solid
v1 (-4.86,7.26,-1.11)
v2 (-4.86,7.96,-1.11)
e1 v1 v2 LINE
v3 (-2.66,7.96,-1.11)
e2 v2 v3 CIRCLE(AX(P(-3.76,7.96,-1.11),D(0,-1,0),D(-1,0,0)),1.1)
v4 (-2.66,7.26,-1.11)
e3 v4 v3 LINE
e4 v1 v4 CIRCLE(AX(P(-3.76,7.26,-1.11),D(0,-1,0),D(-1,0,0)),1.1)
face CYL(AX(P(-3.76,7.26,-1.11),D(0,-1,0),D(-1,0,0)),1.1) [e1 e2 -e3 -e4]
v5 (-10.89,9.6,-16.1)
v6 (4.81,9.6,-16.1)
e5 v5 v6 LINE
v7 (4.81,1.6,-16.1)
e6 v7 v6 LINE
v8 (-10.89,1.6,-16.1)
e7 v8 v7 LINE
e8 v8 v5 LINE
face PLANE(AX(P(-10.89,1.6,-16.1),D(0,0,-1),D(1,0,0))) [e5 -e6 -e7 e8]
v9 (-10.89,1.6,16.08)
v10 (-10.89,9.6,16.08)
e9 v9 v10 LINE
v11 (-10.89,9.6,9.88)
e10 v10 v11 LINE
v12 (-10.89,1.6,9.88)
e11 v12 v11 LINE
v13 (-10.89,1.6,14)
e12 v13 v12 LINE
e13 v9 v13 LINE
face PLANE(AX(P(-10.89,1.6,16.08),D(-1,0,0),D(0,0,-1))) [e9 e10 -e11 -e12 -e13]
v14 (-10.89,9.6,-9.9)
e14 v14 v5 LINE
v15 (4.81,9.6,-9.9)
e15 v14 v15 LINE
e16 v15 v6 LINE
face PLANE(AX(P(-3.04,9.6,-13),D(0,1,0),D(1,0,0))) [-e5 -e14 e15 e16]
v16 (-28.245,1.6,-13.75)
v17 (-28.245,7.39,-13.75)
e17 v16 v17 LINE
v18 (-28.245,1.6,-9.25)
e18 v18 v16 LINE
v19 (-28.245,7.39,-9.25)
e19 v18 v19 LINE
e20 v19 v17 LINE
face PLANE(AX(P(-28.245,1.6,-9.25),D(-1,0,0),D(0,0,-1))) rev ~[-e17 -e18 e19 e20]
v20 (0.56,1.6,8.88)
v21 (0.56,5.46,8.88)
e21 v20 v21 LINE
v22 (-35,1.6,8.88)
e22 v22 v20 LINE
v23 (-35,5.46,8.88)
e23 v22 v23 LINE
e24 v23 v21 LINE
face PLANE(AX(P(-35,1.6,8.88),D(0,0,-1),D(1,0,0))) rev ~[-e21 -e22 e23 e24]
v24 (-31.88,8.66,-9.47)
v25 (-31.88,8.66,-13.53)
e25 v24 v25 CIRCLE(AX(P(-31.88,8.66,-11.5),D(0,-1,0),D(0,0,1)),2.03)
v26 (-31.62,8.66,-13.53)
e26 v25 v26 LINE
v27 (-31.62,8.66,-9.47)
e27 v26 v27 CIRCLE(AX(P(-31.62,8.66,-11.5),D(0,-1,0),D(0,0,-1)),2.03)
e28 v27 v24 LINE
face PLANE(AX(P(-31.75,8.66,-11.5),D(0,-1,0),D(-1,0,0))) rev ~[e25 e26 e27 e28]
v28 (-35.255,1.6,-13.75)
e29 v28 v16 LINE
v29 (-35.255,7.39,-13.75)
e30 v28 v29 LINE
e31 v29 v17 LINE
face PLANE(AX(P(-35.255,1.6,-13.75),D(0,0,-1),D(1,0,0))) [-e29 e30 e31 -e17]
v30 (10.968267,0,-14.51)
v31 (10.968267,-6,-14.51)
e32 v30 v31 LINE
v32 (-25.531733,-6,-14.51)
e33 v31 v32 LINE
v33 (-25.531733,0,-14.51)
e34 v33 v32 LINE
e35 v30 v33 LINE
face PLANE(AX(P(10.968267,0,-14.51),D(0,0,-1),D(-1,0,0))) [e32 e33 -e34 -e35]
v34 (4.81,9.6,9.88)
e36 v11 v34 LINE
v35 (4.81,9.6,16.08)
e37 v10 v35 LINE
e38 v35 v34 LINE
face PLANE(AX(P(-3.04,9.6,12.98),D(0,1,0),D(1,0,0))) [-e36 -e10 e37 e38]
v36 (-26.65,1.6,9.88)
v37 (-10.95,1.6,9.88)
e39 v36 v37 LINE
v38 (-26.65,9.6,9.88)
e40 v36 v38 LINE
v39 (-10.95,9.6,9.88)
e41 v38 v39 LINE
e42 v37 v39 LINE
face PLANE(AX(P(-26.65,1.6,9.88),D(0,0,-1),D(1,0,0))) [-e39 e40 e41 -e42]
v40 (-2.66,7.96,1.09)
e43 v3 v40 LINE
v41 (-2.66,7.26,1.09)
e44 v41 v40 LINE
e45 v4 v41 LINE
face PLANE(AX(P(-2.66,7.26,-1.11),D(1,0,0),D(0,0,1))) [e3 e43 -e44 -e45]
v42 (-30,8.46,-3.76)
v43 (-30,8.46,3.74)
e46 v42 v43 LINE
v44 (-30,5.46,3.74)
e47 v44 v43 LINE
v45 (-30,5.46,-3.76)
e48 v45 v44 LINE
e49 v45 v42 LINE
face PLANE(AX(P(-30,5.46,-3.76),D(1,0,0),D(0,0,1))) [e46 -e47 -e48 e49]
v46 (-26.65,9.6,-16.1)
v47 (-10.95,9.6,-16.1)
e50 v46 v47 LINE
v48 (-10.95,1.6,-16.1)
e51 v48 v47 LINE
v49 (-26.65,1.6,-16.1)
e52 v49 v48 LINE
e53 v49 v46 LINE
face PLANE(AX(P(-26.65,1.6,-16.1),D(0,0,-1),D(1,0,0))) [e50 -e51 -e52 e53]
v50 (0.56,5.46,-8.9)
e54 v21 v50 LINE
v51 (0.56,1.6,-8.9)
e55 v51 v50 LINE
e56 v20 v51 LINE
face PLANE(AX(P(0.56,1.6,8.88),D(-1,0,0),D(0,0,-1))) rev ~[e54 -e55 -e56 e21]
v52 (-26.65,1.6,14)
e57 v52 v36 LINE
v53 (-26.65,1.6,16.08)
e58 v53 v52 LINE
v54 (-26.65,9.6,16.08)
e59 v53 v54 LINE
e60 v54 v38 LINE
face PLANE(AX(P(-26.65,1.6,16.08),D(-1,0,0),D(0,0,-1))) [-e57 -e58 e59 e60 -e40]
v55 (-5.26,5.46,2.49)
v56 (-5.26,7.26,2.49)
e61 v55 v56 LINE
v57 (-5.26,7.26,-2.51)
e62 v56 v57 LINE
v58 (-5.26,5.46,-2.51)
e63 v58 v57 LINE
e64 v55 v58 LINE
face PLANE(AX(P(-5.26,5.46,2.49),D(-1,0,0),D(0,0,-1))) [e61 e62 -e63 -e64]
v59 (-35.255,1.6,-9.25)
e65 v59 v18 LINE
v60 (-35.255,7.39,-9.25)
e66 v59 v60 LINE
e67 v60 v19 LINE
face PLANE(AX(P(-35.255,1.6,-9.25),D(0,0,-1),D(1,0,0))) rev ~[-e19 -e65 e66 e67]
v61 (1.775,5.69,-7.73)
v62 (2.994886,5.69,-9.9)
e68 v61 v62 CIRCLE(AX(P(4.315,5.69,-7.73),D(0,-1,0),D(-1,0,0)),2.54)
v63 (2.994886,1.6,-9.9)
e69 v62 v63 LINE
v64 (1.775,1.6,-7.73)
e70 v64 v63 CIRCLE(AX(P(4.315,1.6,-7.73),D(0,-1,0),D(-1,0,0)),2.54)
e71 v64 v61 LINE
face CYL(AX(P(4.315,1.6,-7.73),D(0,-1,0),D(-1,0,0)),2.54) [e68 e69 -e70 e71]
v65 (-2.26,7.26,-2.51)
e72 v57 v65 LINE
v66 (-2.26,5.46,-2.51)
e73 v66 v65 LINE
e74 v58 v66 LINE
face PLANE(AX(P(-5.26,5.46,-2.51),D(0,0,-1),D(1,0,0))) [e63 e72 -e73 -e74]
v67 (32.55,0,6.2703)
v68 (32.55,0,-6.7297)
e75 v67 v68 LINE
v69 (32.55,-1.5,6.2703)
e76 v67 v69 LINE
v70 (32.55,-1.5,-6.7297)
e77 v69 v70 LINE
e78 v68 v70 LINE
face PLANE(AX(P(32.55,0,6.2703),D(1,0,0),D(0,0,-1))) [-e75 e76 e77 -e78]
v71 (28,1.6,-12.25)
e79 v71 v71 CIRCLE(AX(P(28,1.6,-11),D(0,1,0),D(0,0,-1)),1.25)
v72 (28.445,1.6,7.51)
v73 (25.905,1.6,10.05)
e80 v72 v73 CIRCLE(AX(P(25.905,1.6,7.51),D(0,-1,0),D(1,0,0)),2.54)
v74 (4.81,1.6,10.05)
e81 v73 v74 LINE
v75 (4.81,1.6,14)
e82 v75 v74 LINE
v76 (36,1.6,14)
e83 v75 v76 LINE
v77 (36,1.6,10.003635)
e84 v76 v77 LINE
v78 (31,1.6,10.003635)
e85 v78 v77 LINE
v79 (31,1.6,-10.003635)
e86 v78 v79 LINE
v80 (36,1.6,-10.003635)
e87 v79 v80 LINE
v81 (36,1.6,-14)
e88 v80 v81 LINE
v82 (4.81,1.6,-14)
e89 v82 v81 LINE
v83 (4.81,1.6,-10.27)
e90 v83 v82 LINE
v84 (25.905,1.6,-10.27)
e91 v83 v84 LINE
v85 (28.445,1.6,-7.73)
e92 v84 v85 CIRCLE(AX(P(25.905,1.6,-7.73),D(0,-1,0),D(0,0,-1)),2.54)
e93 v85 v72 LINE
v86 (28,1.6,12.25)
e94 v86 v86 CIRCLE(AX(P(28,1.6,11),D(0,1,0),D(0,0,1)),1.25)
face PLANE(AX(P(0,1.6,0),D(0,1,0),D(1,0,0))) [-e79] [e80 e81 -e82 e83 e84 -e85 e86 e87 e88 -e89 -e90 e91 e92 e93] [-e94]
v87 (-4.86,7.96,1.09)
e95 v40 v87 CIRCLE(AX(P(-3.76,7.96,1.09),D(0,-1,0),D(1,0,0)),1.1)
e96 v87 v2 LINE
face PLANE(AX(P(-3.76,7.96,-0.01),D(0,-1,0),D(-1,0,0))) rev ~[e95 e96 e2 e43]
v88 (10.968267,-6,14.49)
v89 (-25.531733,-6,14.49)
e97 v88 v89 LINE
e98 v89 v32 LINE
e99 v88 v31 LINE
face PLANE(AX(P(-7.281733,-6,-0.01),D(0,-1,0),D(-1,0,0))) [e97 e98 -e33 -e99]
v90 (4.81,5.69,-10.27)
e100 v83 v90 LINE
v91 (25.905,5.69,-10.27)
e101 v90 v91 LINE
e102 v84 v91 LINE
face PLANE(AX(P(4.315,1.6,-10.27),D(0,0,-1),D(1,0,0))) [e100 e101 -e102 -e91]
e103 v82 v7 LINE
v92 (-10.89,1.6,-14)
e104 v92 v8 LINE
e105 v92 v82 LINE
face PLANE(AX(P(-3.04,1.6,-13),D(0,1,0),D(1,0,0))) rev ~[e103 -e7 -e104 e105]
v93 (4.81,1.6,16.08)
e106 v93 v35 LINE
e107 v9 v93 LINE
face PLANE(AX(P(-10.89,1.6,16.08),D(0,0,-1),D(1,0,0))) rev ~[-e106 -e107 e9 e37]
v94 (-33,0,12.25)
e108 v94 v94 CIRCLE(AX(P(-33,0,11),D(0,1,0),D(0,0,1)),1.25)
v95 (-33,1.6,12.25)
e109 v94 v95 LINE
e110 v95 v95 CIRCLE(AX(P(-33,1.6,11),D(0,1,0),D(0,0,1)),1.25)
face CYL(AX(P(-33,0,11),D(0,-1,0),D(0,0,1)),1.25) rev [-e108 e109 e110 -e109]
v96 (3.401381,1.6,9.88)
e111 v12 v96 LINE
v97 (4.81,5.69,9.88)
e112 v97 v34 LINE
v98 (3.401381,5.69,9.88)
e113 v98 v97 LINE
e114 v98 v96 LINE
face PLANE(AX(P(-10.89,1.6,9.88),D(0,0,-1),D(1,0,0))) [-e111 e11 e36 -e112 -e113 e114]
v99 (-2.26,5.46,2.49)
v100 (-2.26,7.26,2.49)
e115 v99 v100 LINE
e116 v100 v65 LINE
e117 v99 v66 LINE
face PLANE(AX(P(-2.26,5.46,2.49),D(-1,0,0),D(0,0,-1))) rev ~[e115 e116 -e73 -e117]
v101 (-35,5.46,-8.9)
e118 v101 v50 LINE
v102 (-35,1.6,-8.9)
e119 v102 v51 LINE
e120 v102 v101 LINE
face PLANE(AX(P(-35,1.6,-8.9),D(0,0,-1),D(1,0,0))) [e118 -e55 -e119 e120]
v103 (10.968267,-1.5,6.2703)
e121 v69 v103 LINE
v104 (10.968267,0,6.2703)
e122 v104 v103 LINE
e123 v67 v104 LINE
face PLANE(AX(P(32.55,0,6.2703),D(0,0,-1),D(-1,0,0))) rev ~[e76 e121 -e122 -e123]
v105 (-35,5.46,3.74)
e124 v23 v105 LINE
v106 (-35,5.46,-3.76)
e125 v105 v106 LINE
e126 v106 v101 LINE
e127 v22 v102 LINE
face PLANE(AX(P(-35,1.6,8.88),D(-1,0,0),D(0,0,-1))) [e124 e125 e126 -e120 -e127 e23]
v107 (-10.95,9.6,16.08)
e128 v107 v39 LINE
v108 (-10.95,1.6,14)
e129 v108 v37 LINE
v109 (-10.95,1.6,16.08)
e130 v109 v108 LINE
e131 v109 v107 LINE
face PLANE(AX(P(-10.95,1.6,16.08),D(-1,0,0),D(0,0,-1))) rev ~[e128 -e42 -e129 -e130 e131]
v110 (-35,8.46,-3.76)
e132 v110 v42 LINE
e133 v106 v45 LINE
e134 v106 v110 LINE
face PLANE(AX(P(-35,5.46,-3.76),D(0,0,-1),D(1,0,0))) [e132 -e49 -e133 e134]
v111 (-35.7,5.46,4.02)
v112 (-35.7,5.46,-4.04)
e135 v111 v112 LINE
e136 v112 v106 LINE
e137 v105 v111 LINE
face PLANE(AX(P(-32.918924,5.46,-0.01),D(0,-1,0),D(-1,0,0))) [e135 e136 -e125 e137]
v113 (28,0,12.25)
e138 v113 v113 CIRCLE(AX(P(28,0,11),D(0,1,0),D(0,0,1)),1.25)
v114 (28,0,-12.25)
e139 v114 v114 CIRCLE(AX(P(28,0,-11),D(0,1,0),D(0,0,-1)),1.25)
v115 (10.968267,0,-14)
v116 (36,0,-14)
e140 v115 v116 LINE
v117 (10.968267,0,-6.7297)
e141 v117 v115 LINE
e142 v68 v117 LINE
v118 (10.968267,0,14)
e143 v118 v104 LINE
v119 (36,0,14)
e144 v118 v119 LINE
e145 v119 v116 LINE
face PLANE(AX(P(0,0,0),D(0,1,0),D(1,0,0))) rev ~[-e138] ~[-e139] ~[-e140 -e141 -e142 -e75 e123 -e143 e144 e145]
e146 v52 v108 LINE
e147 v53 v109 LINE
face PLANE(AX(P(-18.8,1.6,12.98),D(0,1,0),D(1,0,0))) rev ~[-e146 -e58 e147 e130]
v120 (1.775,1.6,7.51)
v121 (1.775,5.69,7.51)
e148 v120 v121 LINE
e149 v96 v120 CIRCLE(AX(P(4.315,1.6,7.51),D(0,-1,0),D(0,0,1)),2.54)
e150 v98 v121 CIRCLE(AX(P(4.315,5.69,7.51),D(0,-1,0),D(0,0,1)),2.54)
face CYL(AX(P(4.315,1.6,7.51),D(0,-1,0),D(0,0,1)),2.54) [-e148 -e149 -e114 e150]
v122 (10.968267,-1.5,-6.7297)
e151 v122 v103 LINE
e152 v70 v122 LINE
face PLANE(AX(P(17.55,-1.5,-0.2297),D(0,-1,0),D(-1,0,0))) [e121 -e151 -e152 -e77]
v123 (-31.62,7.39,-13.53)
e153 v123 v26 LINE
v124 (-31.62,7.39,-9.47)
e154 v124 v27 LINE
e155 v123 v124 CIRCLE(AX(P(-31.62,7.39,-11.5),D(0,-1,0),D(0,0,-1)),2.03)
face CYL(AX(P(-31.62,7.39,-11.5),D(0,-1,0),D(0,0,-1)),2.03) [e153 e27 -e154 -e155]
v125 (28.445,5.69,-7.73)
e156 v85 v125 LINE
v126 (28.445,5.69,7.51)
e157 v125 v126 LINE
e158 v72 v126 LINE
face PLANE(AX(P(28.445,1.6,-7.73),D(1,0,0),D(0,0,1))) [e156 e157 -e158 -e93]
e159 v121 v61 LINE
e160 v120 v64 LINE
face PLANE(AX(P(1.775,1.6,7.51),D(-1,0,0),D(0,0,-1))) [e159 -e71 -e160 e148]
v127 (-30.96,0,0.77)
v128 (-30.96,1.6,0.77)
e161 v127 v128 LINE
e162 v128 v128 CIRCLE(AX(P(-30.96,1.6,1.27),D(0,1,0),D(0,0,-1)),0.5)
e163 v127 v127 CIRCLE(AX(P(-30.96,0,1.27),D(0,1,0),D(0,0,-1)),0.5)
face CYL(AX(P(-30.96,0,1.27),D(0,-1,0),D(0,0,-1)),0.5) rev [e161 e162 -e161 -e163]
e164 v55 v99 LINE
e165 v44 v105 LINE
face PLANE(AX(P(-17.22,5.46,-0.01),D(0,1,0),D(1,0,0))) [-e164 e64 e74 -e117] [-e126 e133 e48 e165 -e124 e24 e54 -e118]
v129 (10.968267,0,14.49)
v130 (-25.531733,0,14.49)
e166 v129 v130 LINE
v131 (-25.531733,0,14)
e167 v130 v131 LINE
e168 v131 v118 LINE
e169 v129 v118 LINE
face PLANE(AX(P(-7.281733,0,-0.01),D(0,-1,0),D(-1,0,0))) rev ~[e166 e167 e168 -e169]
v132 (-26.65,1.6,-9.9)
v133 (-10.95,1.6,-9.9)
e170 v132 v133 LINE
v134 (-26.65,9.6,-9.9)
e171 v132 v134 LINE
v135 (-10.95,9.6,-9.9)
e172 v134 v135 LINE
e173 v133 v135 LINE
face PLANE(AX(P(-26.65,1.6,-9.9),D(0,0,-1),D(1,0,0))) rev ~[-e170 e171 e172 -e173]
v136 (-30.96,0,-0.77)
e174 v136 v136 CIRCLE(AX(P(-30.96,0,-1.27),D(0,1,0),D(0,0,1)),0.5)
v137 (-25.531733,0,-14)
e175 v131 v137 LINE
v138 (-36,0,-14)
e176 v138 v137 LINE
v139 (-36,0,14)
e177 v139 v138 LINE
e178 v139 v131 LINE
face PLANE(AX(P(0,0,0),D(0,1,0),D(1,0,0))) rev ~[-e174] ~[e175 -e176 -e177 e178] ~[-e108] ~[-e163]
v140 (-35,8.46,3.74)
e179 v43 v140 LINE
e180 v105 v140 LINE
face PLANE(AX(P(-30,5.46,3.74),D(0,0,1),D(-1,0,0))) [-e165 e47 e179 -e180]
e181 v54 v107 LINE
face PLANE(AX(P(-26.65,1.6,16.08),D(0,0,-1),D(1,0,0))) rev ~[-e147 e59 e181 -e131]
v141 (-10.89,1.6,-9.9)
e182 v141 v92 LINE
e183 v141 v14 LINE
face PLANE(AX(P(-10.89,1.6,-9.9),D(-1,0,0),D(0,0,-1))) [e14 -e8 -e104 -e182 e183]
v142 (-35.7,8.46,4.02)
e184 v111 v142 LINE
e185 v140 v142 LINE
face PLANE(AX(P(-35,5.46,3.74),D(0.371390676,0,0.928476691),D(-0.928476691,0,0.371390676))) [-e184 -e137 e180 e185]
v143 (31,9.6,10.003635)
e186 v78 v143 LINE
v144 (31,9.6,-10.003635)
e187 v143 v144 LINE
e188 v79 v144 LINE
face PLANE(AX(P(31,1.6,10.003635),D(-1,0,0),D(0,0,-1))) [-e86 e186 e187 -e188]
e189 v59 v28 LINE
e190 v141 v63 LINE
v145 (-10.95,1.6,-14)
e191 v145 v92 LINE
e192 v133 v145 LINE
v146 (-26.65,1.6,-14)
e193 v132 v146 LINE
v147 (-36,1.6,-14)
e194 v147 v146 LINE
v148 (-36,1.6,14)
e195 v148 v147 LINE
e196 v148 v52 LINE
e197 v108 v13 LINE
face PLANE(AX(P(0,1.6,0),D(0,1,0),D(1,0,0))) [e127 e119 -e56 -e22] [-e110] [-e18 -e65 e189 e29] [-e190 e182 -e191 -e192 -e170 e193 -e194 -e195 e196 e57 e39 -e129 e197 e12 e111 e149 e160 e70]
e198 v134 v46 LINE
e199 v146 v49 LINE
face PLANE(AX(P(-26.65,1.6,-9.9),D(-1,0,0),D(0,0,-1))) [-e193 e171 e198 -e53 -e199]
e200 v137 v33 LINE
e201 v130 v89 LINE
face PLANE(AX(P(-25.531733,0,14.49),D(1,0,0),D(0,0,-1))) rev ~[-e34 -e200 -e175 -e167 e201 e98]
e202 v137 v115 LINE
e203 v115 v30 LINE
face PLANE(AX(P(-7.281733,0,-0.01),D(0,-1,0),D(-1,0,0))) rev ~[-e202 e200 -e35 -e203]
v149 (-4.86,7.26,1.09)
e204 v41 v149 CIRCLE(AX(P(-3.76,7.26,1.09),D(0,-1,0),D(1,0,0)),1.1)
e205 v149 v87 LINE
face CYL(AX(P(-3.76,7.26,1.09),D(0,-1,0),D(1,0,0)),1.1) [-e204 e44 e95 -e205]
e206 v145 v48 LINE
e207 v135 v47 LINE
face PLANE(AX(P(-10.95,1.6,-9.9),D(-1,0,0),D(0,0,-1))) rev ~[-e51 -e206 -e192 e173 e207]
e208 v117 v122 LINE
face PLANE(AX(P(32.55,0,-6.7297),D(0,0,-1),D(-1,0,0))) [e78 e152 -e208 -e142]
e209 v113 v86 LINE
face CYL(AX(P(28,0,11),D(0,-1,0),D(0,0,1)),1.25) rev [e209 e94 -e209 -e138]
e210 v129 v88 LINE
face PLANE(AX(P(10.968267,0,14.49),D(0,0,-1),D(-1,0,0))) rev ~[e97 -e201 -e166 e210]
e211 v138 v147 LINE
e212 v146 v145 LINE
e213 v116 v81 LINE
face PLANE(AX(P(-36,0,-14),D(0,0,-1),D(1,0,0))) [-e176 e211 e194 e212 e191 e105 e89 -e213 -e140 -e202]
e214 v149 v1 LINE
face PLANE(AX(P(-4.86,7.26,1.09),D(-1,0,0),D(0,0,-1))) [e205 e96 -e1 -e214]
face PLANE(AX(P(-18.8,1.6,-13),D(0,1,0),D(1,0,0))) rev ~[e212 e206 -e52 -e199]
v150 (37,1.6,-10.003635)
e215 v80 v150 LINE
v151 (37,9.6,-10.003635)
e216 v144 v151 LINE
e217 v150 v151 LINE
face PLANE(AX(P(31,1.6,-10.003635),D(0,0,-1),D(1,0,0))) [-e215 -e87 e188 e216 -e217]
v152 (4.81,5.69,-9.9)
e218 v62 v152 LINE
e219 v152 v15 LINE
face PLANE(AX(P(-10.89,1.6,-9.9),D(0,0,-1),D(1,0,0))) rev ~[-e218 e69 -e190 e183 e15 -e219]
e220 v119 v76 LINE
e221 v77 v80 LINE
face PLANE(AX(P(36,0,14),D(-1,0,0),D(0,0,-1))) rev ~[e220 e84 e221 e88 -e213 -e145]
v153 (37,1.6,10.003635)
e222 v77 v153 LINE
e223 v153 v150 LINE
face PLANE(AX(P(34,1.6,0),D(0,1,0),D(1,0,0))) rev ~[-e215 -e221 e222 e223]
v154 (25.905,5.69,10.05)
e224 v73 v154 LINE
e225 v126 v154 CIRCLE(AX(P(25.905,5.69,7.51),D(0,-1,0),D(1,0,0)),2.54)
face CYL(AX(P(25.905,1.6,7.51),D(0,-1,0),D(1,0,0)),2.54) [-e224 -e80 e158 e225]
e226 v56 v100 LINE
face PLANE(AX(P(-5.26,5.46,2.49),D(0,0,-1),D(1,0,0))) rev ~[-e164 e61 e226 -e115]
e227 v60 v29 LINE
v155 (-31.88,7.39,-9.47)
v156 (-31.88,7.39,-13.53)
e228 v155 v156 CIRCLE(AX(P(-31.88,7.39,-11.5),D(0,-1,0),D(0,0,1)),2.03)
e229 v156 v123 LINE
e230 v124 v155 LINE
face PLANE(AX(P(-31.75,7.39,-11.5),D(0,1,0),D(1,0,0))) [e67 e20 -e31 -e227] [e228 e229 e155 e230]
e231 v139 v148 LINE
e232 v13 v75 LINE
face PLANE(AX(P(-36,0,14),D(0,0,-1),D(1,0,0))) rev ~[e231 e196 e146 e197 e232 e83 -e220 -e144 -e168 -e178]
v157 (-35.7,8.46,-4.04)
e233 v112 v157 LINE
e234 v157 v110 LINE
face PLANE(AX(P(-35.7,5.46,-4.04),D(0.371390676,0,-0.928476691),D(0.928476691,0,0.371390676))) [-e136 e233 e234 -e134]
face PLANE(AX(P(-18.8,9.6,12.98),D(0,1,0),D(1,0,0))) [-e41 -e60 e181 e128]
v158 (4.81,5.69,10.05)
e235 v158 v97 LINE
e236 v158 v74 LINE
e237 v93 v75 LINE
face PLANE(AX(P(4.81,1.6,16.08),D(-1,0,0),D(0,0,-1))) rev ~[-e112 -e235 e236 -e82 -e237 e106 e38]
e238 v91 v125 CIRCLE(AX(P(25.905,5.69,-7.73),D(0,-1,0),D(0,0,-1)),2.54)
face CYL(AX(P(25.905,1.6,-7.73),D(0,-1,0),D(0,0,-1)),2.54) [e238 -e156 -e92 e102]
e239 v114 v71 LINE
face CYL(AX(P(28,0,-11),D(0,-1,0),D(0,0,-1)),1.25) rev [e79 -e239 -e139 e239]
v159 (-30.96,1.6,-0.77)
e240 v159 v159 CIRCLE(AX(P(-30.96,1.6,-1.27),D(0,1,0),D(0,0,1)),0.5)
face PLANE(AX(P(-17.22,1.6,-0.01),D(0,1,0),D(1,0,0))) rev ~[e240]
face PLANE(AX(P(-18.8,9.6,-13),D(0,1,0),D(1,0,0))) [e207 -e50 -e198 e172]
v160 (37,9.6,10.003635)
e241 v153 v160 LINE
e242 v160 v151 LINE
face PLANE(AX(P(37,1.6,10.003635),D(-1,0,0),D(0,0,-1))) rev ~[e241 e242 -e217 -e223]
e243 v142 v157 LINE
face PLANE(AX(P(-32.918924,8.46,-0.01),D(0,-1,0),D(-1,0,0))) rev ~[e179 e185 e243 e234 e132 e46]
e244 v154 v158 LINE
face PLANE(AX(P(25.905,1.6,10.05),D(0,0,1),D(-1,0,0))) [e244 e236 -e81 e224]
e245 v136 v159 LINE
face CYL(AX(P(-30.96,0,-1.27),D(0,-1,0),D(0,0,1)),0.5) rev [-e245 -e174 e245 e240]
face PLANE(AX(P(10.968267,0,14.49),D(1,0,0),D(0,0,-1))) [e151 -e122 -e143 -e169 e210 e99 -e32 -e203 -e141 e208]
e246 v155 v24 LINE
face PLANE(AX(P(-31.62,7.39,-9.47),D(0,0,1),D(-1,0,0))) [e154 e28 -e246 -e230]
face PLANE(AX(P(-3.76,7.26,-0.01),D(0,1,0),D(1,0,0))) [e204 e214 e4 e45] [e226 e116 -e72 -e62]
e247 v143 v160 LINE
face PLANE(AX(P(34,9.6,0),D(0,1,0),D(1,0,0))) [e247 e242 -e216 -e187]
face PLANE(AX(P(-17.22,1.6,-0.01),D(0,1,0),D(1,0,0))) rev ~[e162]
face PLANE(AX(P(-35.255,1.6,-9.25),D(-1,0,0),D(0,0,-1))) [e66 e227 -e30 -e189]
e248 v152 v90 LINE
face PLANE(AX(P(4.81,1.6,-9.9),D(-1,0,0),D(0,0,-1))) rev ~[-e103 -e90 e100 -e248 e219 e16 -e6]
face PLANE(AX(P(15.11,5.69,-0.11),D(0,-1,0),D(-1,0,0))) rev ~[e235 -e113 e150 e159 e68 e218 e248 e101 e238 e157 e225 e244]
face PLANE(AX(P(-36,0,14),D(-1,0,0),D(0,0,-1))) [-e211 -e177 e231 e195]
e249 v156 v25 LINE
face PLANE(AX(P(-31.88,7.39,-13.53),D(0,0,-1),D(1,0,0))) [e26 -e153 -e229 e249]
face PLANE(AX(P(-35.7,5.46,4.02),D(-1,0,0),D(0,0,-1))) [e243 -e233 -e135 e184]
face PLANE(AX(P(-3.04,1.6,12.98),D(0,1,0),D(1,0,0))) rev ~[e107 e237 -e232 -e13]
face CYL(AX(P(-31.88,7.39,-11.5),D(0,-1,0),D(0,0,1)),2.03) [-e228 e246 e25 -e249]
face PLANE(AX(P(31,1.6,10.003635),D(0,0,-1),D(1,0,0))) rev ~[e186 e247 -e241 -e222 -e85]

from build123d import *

# Parameters (mm, degrees)
SKETCH1_W            = 72
SKETCH1_H            = 28
SKETCH1_R            = 1.25
SKETCH1_R_2          = 0.5
BOSS_EXTRUDE1_DEPTH  = 1.6
SKETCH2_W            = 35.56
SKETCH2_H            = 17.78
BOSS_EXTRUDE2_DEPTH  = 3.86
BOSS_EXTRUDE3_DEPTH  = 3
SKETCH4_W            = 3
SKETCH4_H            = 5
BOSS_EXTRUDE4_DEPTH  = 1.8
BOSS_EXTRUDE5_DEPTH  = 0.7
BOSS_EXTRUDE6_DEPTH  = 4.09
SKETCH7_W            = 15.7
SKETCH7_H            = 6.2
BOSS_EXTRUDE7_DEPTH  = 8
SKETCH8_W            = 30
SKETCH8_H            = 13
BOSS_EXTRUDE8_DEPTH  = 1.5
SKETCH9_W            = 6
SKETCH9_H            = 20.007270078
BOSS_EXTRUDE9_DEPTH  = 8
SKETCH10_W           = 36.5
SKETCH10_H           = 29
BOSS_EXTRUDE10_DEPTH = 6
SKETCH12_W           = 7.01
SKETCH12_H           = 4.5
BOSS_EXTRUDE11_DEPTH = 5.79
BOSS_EXTRUDE12_DEPTH = 1.27


with BuildPart() as part:
    # Sketch1 → Boss-Extrude1 (new body)
    with BuildSketch(Plane(origin=(0, 0, 0), x_dir=(1, 0, 0), z_dir=(0, 1, 0))):
        Rectangle(SKETCH1_W, SKETCH1_H)
        with Locations(Location((-33, -11, 0), (0, 0, 270))):
            Circle(SKETCH1_R, mode=Mode.SUBTRACT)
        with Locations(Location((28, -11, 0), (0, 0, 270))):
            Circle(SKETCH1_R, mode=Mode.SUBTRACT)
        with Locations(Location((-30.96, 1.27, 0), (0, 0, 270))):
            Circle(SKETCH1_R_2, mode=Mode.SUBTRACT)
        with Locations(Location((28, 11, 0), (0, 0, 90))):
            Circle(SKETCH1_R, mode=Mode.SUBTRACT)
        with Locations(Location((-30.96, -1.27, 0), (0, 0, 90))):
            Circle(SKETCH1_R_2, mode=Mode.SUBTRACT)
    extrude(amount=BOSS_EXTRUDE1_DEPTH)

    # Sketch2 → Boss-Extrude2 (add)
    with BuildSketch(Plane(origin=(0, 1.6, 0), x_dir=(1, 0, 0), z_dir=(0, 1, 0))):
        with Locations((-17.22, 0.01)):
            Rectangle(SKETCH2_W, SKETCH2_H)
    extrude(amount=BOSS_EXTRUDE2_DEPTH)

    # Sketch3 → Boss-Extrude3 (add)
    with BuildSketch(Plane(origin=(0, 5.46, 0), x_dir=(1, 0, 0), z_dir=(0, 1, 0))):
        Polygon((-35, 3.76), (-30, 3.76), (-30, -3.74), (-35, -3.74), (-35.7, -4.02), (-35.7, 4.04), align=None)
    extrude(amount=BOSS_EXTRUDE3_DEPTH)

    # Sketch4 → Boss-Extrude4 (add)
    with BuildSketch(Plane(origin=(0, 5.46, 0), x_dir=(1, 0, 0), z_dir=(0, 1, 0))):
        with Locations((-3.76, 0.01)):
            Rectangle(SKETCH4_W, SKETCH4_H)
    extrude(amount=BOSS_EXTRUDE4_DEPTH)

    # Sketch5 → Boss-Extrude5 (add)
    with BuildSketch(Plane(origin=(0, 7.26, 0), x_dir=(1, 0, 0), z_dir=(0, 1, 0))):
        with BuildLine():
            Line((-2.66, 1.11), (-2.66, -1.09))
            ThreePointArc((-2.66, -1.09), (-3.76, -2.19), (-4.86, -1.09))
            Line((-4.86, -1.09), (-4.86, 1.11))
            ThreePointArc((-4.86, 1.11), (-3.76, 2.21), (-2.66, 1.11))
        make_face()
    extrude(amount=BOSS_EXTRUDE5_DEPTH)

    # Sketch6 → Boss-Extrude6 (add)
    with BuildSketch(Plane(origin=(0, 1.6, 0), x_dir=(1, 0, 0), z_dir=(0, 1, 0))):
        with BuildLine():
            Line((4.315, 10.27), (25.905, 10.27))
            ThreePointArc((25.905, 10.27), (27.701051224, 9.526051224), (28.445, 7.73))
            Line((28.445, 7.73), (28.445, -7.51))
            ThreePointArc((28.445, -7.51), (27.701051224, -9.306051224), (25.905, -10.05))
            Line((25.905, -10.05), (4.315, -10.05))
            ThreePointArc((4.315, -10.05), (2.518948776, -9.306051224), (1.775, -7.51))
            Line((1.775, -7.51), (1.775, 7.73))
            ThreePointArc((1.775, 7.73), (2.518948776, 9.526051224), (4.315, 10.27))
        make_face()
    extrude(amount=BOSS_EXTRUDE6_DEPTH)

    # Sketch7 → Boss-Extrude7 (add)
    with BuildSketch(Plane(origin=(0, 1.6, 0), x_dir=(1, 0, 0), z_dir=(0, 1, 0))):
        with Locations((-18.8, 13)):
            Rectangle(SKETCH7_W, SKETCH7_H)
        with Locations((-3.04, 13)):
            Rectangle(SKETCH7_W, SKETCH7_H)
        with Locations((-3.04, -12.98)):
            Rectangle(SKETCH7_W, SKETCH7_H)
        with Locations((-18.8, -12.98)):
            Rectangle(SKETCH7_W, SKETCH7_H)
    extrude(amount=BOSS_EXTRUDE7_DEPTH)

    # Sketch8 → Boss-Extrude8 (add)
    with BuildSketch(Plane(origin=(0, 0, 0), x_dir=(-1, 0, 0), z_dir=(0, -1, 0))):
        with Locations((-17.55, 0.22970015)):
            Rectangle(SKETCH8_W, SKETCH8_H)
    extrude(amount=BOSS_EXTRUDE8_DEPTH)

    # Sketch9 → Boss-Extrude9 (add)
    with BuildSketch(Plane(origin=(0, 1.6, 0), x_dir=(1, 0, 0), z_dir=(0, 1, 0))):
        with Locations((34, 0)):
            Rectangle(SKETCH9_W, SKETCH9_H)
    extrude(amount=BOSS_EXTRUDE9_DEPTH)

    # Sketch10 → Boss-Extrude10 (add)
    with BuildSketch(Plane(origin=(0, 0, 0), x_dir=(-1, 0, 0), z_dir=(0, -1, 0))):
        with Locations((7.281732971, 0.01)):
            Rectangle(SKETCH10_W, SKETCH10_H)
    extrude(amount=BOSS_EXTRUDE10_DEPTH)

    # Sketch12 → Boss-Extrude11 (add)
    with BuildSketch(Plane(origin=(0, 1.6, 0), x_dir=(1, 0, 0), z_dir=(0, 1, 0))):
        with Locations((-31.75, 11.5)):
            Rectangle(SKETCH12_W, SKETCH12_H)
    extrude(amount=BOSS_EXTRUDE11_DEPTH)

    # Sketch13 → Boss-Extrude12 (add)
    with BuildSketch(Plane(origin=(0, 7.39, 0), x_dir=(1, 0, 0), z_dir=(0, 1, 0))):
        with BuildLine():
            Line((-31.88, 13.53), (-31.62, 13.53))
            ThreePointArc((-31.62, 13.53), (-29.59, 11.5), (-31.62, 9.47))
            Line((-31.62, 9.47), (-31.88, 9.47))
            ThreePointArc((-31.88, 9.47), (-33.91, 11.5), (-31.88, 13.53))
        make_face()
    extrude(amount=BOSS_EXTRUDE12_DEPTH)


solid = part.part
